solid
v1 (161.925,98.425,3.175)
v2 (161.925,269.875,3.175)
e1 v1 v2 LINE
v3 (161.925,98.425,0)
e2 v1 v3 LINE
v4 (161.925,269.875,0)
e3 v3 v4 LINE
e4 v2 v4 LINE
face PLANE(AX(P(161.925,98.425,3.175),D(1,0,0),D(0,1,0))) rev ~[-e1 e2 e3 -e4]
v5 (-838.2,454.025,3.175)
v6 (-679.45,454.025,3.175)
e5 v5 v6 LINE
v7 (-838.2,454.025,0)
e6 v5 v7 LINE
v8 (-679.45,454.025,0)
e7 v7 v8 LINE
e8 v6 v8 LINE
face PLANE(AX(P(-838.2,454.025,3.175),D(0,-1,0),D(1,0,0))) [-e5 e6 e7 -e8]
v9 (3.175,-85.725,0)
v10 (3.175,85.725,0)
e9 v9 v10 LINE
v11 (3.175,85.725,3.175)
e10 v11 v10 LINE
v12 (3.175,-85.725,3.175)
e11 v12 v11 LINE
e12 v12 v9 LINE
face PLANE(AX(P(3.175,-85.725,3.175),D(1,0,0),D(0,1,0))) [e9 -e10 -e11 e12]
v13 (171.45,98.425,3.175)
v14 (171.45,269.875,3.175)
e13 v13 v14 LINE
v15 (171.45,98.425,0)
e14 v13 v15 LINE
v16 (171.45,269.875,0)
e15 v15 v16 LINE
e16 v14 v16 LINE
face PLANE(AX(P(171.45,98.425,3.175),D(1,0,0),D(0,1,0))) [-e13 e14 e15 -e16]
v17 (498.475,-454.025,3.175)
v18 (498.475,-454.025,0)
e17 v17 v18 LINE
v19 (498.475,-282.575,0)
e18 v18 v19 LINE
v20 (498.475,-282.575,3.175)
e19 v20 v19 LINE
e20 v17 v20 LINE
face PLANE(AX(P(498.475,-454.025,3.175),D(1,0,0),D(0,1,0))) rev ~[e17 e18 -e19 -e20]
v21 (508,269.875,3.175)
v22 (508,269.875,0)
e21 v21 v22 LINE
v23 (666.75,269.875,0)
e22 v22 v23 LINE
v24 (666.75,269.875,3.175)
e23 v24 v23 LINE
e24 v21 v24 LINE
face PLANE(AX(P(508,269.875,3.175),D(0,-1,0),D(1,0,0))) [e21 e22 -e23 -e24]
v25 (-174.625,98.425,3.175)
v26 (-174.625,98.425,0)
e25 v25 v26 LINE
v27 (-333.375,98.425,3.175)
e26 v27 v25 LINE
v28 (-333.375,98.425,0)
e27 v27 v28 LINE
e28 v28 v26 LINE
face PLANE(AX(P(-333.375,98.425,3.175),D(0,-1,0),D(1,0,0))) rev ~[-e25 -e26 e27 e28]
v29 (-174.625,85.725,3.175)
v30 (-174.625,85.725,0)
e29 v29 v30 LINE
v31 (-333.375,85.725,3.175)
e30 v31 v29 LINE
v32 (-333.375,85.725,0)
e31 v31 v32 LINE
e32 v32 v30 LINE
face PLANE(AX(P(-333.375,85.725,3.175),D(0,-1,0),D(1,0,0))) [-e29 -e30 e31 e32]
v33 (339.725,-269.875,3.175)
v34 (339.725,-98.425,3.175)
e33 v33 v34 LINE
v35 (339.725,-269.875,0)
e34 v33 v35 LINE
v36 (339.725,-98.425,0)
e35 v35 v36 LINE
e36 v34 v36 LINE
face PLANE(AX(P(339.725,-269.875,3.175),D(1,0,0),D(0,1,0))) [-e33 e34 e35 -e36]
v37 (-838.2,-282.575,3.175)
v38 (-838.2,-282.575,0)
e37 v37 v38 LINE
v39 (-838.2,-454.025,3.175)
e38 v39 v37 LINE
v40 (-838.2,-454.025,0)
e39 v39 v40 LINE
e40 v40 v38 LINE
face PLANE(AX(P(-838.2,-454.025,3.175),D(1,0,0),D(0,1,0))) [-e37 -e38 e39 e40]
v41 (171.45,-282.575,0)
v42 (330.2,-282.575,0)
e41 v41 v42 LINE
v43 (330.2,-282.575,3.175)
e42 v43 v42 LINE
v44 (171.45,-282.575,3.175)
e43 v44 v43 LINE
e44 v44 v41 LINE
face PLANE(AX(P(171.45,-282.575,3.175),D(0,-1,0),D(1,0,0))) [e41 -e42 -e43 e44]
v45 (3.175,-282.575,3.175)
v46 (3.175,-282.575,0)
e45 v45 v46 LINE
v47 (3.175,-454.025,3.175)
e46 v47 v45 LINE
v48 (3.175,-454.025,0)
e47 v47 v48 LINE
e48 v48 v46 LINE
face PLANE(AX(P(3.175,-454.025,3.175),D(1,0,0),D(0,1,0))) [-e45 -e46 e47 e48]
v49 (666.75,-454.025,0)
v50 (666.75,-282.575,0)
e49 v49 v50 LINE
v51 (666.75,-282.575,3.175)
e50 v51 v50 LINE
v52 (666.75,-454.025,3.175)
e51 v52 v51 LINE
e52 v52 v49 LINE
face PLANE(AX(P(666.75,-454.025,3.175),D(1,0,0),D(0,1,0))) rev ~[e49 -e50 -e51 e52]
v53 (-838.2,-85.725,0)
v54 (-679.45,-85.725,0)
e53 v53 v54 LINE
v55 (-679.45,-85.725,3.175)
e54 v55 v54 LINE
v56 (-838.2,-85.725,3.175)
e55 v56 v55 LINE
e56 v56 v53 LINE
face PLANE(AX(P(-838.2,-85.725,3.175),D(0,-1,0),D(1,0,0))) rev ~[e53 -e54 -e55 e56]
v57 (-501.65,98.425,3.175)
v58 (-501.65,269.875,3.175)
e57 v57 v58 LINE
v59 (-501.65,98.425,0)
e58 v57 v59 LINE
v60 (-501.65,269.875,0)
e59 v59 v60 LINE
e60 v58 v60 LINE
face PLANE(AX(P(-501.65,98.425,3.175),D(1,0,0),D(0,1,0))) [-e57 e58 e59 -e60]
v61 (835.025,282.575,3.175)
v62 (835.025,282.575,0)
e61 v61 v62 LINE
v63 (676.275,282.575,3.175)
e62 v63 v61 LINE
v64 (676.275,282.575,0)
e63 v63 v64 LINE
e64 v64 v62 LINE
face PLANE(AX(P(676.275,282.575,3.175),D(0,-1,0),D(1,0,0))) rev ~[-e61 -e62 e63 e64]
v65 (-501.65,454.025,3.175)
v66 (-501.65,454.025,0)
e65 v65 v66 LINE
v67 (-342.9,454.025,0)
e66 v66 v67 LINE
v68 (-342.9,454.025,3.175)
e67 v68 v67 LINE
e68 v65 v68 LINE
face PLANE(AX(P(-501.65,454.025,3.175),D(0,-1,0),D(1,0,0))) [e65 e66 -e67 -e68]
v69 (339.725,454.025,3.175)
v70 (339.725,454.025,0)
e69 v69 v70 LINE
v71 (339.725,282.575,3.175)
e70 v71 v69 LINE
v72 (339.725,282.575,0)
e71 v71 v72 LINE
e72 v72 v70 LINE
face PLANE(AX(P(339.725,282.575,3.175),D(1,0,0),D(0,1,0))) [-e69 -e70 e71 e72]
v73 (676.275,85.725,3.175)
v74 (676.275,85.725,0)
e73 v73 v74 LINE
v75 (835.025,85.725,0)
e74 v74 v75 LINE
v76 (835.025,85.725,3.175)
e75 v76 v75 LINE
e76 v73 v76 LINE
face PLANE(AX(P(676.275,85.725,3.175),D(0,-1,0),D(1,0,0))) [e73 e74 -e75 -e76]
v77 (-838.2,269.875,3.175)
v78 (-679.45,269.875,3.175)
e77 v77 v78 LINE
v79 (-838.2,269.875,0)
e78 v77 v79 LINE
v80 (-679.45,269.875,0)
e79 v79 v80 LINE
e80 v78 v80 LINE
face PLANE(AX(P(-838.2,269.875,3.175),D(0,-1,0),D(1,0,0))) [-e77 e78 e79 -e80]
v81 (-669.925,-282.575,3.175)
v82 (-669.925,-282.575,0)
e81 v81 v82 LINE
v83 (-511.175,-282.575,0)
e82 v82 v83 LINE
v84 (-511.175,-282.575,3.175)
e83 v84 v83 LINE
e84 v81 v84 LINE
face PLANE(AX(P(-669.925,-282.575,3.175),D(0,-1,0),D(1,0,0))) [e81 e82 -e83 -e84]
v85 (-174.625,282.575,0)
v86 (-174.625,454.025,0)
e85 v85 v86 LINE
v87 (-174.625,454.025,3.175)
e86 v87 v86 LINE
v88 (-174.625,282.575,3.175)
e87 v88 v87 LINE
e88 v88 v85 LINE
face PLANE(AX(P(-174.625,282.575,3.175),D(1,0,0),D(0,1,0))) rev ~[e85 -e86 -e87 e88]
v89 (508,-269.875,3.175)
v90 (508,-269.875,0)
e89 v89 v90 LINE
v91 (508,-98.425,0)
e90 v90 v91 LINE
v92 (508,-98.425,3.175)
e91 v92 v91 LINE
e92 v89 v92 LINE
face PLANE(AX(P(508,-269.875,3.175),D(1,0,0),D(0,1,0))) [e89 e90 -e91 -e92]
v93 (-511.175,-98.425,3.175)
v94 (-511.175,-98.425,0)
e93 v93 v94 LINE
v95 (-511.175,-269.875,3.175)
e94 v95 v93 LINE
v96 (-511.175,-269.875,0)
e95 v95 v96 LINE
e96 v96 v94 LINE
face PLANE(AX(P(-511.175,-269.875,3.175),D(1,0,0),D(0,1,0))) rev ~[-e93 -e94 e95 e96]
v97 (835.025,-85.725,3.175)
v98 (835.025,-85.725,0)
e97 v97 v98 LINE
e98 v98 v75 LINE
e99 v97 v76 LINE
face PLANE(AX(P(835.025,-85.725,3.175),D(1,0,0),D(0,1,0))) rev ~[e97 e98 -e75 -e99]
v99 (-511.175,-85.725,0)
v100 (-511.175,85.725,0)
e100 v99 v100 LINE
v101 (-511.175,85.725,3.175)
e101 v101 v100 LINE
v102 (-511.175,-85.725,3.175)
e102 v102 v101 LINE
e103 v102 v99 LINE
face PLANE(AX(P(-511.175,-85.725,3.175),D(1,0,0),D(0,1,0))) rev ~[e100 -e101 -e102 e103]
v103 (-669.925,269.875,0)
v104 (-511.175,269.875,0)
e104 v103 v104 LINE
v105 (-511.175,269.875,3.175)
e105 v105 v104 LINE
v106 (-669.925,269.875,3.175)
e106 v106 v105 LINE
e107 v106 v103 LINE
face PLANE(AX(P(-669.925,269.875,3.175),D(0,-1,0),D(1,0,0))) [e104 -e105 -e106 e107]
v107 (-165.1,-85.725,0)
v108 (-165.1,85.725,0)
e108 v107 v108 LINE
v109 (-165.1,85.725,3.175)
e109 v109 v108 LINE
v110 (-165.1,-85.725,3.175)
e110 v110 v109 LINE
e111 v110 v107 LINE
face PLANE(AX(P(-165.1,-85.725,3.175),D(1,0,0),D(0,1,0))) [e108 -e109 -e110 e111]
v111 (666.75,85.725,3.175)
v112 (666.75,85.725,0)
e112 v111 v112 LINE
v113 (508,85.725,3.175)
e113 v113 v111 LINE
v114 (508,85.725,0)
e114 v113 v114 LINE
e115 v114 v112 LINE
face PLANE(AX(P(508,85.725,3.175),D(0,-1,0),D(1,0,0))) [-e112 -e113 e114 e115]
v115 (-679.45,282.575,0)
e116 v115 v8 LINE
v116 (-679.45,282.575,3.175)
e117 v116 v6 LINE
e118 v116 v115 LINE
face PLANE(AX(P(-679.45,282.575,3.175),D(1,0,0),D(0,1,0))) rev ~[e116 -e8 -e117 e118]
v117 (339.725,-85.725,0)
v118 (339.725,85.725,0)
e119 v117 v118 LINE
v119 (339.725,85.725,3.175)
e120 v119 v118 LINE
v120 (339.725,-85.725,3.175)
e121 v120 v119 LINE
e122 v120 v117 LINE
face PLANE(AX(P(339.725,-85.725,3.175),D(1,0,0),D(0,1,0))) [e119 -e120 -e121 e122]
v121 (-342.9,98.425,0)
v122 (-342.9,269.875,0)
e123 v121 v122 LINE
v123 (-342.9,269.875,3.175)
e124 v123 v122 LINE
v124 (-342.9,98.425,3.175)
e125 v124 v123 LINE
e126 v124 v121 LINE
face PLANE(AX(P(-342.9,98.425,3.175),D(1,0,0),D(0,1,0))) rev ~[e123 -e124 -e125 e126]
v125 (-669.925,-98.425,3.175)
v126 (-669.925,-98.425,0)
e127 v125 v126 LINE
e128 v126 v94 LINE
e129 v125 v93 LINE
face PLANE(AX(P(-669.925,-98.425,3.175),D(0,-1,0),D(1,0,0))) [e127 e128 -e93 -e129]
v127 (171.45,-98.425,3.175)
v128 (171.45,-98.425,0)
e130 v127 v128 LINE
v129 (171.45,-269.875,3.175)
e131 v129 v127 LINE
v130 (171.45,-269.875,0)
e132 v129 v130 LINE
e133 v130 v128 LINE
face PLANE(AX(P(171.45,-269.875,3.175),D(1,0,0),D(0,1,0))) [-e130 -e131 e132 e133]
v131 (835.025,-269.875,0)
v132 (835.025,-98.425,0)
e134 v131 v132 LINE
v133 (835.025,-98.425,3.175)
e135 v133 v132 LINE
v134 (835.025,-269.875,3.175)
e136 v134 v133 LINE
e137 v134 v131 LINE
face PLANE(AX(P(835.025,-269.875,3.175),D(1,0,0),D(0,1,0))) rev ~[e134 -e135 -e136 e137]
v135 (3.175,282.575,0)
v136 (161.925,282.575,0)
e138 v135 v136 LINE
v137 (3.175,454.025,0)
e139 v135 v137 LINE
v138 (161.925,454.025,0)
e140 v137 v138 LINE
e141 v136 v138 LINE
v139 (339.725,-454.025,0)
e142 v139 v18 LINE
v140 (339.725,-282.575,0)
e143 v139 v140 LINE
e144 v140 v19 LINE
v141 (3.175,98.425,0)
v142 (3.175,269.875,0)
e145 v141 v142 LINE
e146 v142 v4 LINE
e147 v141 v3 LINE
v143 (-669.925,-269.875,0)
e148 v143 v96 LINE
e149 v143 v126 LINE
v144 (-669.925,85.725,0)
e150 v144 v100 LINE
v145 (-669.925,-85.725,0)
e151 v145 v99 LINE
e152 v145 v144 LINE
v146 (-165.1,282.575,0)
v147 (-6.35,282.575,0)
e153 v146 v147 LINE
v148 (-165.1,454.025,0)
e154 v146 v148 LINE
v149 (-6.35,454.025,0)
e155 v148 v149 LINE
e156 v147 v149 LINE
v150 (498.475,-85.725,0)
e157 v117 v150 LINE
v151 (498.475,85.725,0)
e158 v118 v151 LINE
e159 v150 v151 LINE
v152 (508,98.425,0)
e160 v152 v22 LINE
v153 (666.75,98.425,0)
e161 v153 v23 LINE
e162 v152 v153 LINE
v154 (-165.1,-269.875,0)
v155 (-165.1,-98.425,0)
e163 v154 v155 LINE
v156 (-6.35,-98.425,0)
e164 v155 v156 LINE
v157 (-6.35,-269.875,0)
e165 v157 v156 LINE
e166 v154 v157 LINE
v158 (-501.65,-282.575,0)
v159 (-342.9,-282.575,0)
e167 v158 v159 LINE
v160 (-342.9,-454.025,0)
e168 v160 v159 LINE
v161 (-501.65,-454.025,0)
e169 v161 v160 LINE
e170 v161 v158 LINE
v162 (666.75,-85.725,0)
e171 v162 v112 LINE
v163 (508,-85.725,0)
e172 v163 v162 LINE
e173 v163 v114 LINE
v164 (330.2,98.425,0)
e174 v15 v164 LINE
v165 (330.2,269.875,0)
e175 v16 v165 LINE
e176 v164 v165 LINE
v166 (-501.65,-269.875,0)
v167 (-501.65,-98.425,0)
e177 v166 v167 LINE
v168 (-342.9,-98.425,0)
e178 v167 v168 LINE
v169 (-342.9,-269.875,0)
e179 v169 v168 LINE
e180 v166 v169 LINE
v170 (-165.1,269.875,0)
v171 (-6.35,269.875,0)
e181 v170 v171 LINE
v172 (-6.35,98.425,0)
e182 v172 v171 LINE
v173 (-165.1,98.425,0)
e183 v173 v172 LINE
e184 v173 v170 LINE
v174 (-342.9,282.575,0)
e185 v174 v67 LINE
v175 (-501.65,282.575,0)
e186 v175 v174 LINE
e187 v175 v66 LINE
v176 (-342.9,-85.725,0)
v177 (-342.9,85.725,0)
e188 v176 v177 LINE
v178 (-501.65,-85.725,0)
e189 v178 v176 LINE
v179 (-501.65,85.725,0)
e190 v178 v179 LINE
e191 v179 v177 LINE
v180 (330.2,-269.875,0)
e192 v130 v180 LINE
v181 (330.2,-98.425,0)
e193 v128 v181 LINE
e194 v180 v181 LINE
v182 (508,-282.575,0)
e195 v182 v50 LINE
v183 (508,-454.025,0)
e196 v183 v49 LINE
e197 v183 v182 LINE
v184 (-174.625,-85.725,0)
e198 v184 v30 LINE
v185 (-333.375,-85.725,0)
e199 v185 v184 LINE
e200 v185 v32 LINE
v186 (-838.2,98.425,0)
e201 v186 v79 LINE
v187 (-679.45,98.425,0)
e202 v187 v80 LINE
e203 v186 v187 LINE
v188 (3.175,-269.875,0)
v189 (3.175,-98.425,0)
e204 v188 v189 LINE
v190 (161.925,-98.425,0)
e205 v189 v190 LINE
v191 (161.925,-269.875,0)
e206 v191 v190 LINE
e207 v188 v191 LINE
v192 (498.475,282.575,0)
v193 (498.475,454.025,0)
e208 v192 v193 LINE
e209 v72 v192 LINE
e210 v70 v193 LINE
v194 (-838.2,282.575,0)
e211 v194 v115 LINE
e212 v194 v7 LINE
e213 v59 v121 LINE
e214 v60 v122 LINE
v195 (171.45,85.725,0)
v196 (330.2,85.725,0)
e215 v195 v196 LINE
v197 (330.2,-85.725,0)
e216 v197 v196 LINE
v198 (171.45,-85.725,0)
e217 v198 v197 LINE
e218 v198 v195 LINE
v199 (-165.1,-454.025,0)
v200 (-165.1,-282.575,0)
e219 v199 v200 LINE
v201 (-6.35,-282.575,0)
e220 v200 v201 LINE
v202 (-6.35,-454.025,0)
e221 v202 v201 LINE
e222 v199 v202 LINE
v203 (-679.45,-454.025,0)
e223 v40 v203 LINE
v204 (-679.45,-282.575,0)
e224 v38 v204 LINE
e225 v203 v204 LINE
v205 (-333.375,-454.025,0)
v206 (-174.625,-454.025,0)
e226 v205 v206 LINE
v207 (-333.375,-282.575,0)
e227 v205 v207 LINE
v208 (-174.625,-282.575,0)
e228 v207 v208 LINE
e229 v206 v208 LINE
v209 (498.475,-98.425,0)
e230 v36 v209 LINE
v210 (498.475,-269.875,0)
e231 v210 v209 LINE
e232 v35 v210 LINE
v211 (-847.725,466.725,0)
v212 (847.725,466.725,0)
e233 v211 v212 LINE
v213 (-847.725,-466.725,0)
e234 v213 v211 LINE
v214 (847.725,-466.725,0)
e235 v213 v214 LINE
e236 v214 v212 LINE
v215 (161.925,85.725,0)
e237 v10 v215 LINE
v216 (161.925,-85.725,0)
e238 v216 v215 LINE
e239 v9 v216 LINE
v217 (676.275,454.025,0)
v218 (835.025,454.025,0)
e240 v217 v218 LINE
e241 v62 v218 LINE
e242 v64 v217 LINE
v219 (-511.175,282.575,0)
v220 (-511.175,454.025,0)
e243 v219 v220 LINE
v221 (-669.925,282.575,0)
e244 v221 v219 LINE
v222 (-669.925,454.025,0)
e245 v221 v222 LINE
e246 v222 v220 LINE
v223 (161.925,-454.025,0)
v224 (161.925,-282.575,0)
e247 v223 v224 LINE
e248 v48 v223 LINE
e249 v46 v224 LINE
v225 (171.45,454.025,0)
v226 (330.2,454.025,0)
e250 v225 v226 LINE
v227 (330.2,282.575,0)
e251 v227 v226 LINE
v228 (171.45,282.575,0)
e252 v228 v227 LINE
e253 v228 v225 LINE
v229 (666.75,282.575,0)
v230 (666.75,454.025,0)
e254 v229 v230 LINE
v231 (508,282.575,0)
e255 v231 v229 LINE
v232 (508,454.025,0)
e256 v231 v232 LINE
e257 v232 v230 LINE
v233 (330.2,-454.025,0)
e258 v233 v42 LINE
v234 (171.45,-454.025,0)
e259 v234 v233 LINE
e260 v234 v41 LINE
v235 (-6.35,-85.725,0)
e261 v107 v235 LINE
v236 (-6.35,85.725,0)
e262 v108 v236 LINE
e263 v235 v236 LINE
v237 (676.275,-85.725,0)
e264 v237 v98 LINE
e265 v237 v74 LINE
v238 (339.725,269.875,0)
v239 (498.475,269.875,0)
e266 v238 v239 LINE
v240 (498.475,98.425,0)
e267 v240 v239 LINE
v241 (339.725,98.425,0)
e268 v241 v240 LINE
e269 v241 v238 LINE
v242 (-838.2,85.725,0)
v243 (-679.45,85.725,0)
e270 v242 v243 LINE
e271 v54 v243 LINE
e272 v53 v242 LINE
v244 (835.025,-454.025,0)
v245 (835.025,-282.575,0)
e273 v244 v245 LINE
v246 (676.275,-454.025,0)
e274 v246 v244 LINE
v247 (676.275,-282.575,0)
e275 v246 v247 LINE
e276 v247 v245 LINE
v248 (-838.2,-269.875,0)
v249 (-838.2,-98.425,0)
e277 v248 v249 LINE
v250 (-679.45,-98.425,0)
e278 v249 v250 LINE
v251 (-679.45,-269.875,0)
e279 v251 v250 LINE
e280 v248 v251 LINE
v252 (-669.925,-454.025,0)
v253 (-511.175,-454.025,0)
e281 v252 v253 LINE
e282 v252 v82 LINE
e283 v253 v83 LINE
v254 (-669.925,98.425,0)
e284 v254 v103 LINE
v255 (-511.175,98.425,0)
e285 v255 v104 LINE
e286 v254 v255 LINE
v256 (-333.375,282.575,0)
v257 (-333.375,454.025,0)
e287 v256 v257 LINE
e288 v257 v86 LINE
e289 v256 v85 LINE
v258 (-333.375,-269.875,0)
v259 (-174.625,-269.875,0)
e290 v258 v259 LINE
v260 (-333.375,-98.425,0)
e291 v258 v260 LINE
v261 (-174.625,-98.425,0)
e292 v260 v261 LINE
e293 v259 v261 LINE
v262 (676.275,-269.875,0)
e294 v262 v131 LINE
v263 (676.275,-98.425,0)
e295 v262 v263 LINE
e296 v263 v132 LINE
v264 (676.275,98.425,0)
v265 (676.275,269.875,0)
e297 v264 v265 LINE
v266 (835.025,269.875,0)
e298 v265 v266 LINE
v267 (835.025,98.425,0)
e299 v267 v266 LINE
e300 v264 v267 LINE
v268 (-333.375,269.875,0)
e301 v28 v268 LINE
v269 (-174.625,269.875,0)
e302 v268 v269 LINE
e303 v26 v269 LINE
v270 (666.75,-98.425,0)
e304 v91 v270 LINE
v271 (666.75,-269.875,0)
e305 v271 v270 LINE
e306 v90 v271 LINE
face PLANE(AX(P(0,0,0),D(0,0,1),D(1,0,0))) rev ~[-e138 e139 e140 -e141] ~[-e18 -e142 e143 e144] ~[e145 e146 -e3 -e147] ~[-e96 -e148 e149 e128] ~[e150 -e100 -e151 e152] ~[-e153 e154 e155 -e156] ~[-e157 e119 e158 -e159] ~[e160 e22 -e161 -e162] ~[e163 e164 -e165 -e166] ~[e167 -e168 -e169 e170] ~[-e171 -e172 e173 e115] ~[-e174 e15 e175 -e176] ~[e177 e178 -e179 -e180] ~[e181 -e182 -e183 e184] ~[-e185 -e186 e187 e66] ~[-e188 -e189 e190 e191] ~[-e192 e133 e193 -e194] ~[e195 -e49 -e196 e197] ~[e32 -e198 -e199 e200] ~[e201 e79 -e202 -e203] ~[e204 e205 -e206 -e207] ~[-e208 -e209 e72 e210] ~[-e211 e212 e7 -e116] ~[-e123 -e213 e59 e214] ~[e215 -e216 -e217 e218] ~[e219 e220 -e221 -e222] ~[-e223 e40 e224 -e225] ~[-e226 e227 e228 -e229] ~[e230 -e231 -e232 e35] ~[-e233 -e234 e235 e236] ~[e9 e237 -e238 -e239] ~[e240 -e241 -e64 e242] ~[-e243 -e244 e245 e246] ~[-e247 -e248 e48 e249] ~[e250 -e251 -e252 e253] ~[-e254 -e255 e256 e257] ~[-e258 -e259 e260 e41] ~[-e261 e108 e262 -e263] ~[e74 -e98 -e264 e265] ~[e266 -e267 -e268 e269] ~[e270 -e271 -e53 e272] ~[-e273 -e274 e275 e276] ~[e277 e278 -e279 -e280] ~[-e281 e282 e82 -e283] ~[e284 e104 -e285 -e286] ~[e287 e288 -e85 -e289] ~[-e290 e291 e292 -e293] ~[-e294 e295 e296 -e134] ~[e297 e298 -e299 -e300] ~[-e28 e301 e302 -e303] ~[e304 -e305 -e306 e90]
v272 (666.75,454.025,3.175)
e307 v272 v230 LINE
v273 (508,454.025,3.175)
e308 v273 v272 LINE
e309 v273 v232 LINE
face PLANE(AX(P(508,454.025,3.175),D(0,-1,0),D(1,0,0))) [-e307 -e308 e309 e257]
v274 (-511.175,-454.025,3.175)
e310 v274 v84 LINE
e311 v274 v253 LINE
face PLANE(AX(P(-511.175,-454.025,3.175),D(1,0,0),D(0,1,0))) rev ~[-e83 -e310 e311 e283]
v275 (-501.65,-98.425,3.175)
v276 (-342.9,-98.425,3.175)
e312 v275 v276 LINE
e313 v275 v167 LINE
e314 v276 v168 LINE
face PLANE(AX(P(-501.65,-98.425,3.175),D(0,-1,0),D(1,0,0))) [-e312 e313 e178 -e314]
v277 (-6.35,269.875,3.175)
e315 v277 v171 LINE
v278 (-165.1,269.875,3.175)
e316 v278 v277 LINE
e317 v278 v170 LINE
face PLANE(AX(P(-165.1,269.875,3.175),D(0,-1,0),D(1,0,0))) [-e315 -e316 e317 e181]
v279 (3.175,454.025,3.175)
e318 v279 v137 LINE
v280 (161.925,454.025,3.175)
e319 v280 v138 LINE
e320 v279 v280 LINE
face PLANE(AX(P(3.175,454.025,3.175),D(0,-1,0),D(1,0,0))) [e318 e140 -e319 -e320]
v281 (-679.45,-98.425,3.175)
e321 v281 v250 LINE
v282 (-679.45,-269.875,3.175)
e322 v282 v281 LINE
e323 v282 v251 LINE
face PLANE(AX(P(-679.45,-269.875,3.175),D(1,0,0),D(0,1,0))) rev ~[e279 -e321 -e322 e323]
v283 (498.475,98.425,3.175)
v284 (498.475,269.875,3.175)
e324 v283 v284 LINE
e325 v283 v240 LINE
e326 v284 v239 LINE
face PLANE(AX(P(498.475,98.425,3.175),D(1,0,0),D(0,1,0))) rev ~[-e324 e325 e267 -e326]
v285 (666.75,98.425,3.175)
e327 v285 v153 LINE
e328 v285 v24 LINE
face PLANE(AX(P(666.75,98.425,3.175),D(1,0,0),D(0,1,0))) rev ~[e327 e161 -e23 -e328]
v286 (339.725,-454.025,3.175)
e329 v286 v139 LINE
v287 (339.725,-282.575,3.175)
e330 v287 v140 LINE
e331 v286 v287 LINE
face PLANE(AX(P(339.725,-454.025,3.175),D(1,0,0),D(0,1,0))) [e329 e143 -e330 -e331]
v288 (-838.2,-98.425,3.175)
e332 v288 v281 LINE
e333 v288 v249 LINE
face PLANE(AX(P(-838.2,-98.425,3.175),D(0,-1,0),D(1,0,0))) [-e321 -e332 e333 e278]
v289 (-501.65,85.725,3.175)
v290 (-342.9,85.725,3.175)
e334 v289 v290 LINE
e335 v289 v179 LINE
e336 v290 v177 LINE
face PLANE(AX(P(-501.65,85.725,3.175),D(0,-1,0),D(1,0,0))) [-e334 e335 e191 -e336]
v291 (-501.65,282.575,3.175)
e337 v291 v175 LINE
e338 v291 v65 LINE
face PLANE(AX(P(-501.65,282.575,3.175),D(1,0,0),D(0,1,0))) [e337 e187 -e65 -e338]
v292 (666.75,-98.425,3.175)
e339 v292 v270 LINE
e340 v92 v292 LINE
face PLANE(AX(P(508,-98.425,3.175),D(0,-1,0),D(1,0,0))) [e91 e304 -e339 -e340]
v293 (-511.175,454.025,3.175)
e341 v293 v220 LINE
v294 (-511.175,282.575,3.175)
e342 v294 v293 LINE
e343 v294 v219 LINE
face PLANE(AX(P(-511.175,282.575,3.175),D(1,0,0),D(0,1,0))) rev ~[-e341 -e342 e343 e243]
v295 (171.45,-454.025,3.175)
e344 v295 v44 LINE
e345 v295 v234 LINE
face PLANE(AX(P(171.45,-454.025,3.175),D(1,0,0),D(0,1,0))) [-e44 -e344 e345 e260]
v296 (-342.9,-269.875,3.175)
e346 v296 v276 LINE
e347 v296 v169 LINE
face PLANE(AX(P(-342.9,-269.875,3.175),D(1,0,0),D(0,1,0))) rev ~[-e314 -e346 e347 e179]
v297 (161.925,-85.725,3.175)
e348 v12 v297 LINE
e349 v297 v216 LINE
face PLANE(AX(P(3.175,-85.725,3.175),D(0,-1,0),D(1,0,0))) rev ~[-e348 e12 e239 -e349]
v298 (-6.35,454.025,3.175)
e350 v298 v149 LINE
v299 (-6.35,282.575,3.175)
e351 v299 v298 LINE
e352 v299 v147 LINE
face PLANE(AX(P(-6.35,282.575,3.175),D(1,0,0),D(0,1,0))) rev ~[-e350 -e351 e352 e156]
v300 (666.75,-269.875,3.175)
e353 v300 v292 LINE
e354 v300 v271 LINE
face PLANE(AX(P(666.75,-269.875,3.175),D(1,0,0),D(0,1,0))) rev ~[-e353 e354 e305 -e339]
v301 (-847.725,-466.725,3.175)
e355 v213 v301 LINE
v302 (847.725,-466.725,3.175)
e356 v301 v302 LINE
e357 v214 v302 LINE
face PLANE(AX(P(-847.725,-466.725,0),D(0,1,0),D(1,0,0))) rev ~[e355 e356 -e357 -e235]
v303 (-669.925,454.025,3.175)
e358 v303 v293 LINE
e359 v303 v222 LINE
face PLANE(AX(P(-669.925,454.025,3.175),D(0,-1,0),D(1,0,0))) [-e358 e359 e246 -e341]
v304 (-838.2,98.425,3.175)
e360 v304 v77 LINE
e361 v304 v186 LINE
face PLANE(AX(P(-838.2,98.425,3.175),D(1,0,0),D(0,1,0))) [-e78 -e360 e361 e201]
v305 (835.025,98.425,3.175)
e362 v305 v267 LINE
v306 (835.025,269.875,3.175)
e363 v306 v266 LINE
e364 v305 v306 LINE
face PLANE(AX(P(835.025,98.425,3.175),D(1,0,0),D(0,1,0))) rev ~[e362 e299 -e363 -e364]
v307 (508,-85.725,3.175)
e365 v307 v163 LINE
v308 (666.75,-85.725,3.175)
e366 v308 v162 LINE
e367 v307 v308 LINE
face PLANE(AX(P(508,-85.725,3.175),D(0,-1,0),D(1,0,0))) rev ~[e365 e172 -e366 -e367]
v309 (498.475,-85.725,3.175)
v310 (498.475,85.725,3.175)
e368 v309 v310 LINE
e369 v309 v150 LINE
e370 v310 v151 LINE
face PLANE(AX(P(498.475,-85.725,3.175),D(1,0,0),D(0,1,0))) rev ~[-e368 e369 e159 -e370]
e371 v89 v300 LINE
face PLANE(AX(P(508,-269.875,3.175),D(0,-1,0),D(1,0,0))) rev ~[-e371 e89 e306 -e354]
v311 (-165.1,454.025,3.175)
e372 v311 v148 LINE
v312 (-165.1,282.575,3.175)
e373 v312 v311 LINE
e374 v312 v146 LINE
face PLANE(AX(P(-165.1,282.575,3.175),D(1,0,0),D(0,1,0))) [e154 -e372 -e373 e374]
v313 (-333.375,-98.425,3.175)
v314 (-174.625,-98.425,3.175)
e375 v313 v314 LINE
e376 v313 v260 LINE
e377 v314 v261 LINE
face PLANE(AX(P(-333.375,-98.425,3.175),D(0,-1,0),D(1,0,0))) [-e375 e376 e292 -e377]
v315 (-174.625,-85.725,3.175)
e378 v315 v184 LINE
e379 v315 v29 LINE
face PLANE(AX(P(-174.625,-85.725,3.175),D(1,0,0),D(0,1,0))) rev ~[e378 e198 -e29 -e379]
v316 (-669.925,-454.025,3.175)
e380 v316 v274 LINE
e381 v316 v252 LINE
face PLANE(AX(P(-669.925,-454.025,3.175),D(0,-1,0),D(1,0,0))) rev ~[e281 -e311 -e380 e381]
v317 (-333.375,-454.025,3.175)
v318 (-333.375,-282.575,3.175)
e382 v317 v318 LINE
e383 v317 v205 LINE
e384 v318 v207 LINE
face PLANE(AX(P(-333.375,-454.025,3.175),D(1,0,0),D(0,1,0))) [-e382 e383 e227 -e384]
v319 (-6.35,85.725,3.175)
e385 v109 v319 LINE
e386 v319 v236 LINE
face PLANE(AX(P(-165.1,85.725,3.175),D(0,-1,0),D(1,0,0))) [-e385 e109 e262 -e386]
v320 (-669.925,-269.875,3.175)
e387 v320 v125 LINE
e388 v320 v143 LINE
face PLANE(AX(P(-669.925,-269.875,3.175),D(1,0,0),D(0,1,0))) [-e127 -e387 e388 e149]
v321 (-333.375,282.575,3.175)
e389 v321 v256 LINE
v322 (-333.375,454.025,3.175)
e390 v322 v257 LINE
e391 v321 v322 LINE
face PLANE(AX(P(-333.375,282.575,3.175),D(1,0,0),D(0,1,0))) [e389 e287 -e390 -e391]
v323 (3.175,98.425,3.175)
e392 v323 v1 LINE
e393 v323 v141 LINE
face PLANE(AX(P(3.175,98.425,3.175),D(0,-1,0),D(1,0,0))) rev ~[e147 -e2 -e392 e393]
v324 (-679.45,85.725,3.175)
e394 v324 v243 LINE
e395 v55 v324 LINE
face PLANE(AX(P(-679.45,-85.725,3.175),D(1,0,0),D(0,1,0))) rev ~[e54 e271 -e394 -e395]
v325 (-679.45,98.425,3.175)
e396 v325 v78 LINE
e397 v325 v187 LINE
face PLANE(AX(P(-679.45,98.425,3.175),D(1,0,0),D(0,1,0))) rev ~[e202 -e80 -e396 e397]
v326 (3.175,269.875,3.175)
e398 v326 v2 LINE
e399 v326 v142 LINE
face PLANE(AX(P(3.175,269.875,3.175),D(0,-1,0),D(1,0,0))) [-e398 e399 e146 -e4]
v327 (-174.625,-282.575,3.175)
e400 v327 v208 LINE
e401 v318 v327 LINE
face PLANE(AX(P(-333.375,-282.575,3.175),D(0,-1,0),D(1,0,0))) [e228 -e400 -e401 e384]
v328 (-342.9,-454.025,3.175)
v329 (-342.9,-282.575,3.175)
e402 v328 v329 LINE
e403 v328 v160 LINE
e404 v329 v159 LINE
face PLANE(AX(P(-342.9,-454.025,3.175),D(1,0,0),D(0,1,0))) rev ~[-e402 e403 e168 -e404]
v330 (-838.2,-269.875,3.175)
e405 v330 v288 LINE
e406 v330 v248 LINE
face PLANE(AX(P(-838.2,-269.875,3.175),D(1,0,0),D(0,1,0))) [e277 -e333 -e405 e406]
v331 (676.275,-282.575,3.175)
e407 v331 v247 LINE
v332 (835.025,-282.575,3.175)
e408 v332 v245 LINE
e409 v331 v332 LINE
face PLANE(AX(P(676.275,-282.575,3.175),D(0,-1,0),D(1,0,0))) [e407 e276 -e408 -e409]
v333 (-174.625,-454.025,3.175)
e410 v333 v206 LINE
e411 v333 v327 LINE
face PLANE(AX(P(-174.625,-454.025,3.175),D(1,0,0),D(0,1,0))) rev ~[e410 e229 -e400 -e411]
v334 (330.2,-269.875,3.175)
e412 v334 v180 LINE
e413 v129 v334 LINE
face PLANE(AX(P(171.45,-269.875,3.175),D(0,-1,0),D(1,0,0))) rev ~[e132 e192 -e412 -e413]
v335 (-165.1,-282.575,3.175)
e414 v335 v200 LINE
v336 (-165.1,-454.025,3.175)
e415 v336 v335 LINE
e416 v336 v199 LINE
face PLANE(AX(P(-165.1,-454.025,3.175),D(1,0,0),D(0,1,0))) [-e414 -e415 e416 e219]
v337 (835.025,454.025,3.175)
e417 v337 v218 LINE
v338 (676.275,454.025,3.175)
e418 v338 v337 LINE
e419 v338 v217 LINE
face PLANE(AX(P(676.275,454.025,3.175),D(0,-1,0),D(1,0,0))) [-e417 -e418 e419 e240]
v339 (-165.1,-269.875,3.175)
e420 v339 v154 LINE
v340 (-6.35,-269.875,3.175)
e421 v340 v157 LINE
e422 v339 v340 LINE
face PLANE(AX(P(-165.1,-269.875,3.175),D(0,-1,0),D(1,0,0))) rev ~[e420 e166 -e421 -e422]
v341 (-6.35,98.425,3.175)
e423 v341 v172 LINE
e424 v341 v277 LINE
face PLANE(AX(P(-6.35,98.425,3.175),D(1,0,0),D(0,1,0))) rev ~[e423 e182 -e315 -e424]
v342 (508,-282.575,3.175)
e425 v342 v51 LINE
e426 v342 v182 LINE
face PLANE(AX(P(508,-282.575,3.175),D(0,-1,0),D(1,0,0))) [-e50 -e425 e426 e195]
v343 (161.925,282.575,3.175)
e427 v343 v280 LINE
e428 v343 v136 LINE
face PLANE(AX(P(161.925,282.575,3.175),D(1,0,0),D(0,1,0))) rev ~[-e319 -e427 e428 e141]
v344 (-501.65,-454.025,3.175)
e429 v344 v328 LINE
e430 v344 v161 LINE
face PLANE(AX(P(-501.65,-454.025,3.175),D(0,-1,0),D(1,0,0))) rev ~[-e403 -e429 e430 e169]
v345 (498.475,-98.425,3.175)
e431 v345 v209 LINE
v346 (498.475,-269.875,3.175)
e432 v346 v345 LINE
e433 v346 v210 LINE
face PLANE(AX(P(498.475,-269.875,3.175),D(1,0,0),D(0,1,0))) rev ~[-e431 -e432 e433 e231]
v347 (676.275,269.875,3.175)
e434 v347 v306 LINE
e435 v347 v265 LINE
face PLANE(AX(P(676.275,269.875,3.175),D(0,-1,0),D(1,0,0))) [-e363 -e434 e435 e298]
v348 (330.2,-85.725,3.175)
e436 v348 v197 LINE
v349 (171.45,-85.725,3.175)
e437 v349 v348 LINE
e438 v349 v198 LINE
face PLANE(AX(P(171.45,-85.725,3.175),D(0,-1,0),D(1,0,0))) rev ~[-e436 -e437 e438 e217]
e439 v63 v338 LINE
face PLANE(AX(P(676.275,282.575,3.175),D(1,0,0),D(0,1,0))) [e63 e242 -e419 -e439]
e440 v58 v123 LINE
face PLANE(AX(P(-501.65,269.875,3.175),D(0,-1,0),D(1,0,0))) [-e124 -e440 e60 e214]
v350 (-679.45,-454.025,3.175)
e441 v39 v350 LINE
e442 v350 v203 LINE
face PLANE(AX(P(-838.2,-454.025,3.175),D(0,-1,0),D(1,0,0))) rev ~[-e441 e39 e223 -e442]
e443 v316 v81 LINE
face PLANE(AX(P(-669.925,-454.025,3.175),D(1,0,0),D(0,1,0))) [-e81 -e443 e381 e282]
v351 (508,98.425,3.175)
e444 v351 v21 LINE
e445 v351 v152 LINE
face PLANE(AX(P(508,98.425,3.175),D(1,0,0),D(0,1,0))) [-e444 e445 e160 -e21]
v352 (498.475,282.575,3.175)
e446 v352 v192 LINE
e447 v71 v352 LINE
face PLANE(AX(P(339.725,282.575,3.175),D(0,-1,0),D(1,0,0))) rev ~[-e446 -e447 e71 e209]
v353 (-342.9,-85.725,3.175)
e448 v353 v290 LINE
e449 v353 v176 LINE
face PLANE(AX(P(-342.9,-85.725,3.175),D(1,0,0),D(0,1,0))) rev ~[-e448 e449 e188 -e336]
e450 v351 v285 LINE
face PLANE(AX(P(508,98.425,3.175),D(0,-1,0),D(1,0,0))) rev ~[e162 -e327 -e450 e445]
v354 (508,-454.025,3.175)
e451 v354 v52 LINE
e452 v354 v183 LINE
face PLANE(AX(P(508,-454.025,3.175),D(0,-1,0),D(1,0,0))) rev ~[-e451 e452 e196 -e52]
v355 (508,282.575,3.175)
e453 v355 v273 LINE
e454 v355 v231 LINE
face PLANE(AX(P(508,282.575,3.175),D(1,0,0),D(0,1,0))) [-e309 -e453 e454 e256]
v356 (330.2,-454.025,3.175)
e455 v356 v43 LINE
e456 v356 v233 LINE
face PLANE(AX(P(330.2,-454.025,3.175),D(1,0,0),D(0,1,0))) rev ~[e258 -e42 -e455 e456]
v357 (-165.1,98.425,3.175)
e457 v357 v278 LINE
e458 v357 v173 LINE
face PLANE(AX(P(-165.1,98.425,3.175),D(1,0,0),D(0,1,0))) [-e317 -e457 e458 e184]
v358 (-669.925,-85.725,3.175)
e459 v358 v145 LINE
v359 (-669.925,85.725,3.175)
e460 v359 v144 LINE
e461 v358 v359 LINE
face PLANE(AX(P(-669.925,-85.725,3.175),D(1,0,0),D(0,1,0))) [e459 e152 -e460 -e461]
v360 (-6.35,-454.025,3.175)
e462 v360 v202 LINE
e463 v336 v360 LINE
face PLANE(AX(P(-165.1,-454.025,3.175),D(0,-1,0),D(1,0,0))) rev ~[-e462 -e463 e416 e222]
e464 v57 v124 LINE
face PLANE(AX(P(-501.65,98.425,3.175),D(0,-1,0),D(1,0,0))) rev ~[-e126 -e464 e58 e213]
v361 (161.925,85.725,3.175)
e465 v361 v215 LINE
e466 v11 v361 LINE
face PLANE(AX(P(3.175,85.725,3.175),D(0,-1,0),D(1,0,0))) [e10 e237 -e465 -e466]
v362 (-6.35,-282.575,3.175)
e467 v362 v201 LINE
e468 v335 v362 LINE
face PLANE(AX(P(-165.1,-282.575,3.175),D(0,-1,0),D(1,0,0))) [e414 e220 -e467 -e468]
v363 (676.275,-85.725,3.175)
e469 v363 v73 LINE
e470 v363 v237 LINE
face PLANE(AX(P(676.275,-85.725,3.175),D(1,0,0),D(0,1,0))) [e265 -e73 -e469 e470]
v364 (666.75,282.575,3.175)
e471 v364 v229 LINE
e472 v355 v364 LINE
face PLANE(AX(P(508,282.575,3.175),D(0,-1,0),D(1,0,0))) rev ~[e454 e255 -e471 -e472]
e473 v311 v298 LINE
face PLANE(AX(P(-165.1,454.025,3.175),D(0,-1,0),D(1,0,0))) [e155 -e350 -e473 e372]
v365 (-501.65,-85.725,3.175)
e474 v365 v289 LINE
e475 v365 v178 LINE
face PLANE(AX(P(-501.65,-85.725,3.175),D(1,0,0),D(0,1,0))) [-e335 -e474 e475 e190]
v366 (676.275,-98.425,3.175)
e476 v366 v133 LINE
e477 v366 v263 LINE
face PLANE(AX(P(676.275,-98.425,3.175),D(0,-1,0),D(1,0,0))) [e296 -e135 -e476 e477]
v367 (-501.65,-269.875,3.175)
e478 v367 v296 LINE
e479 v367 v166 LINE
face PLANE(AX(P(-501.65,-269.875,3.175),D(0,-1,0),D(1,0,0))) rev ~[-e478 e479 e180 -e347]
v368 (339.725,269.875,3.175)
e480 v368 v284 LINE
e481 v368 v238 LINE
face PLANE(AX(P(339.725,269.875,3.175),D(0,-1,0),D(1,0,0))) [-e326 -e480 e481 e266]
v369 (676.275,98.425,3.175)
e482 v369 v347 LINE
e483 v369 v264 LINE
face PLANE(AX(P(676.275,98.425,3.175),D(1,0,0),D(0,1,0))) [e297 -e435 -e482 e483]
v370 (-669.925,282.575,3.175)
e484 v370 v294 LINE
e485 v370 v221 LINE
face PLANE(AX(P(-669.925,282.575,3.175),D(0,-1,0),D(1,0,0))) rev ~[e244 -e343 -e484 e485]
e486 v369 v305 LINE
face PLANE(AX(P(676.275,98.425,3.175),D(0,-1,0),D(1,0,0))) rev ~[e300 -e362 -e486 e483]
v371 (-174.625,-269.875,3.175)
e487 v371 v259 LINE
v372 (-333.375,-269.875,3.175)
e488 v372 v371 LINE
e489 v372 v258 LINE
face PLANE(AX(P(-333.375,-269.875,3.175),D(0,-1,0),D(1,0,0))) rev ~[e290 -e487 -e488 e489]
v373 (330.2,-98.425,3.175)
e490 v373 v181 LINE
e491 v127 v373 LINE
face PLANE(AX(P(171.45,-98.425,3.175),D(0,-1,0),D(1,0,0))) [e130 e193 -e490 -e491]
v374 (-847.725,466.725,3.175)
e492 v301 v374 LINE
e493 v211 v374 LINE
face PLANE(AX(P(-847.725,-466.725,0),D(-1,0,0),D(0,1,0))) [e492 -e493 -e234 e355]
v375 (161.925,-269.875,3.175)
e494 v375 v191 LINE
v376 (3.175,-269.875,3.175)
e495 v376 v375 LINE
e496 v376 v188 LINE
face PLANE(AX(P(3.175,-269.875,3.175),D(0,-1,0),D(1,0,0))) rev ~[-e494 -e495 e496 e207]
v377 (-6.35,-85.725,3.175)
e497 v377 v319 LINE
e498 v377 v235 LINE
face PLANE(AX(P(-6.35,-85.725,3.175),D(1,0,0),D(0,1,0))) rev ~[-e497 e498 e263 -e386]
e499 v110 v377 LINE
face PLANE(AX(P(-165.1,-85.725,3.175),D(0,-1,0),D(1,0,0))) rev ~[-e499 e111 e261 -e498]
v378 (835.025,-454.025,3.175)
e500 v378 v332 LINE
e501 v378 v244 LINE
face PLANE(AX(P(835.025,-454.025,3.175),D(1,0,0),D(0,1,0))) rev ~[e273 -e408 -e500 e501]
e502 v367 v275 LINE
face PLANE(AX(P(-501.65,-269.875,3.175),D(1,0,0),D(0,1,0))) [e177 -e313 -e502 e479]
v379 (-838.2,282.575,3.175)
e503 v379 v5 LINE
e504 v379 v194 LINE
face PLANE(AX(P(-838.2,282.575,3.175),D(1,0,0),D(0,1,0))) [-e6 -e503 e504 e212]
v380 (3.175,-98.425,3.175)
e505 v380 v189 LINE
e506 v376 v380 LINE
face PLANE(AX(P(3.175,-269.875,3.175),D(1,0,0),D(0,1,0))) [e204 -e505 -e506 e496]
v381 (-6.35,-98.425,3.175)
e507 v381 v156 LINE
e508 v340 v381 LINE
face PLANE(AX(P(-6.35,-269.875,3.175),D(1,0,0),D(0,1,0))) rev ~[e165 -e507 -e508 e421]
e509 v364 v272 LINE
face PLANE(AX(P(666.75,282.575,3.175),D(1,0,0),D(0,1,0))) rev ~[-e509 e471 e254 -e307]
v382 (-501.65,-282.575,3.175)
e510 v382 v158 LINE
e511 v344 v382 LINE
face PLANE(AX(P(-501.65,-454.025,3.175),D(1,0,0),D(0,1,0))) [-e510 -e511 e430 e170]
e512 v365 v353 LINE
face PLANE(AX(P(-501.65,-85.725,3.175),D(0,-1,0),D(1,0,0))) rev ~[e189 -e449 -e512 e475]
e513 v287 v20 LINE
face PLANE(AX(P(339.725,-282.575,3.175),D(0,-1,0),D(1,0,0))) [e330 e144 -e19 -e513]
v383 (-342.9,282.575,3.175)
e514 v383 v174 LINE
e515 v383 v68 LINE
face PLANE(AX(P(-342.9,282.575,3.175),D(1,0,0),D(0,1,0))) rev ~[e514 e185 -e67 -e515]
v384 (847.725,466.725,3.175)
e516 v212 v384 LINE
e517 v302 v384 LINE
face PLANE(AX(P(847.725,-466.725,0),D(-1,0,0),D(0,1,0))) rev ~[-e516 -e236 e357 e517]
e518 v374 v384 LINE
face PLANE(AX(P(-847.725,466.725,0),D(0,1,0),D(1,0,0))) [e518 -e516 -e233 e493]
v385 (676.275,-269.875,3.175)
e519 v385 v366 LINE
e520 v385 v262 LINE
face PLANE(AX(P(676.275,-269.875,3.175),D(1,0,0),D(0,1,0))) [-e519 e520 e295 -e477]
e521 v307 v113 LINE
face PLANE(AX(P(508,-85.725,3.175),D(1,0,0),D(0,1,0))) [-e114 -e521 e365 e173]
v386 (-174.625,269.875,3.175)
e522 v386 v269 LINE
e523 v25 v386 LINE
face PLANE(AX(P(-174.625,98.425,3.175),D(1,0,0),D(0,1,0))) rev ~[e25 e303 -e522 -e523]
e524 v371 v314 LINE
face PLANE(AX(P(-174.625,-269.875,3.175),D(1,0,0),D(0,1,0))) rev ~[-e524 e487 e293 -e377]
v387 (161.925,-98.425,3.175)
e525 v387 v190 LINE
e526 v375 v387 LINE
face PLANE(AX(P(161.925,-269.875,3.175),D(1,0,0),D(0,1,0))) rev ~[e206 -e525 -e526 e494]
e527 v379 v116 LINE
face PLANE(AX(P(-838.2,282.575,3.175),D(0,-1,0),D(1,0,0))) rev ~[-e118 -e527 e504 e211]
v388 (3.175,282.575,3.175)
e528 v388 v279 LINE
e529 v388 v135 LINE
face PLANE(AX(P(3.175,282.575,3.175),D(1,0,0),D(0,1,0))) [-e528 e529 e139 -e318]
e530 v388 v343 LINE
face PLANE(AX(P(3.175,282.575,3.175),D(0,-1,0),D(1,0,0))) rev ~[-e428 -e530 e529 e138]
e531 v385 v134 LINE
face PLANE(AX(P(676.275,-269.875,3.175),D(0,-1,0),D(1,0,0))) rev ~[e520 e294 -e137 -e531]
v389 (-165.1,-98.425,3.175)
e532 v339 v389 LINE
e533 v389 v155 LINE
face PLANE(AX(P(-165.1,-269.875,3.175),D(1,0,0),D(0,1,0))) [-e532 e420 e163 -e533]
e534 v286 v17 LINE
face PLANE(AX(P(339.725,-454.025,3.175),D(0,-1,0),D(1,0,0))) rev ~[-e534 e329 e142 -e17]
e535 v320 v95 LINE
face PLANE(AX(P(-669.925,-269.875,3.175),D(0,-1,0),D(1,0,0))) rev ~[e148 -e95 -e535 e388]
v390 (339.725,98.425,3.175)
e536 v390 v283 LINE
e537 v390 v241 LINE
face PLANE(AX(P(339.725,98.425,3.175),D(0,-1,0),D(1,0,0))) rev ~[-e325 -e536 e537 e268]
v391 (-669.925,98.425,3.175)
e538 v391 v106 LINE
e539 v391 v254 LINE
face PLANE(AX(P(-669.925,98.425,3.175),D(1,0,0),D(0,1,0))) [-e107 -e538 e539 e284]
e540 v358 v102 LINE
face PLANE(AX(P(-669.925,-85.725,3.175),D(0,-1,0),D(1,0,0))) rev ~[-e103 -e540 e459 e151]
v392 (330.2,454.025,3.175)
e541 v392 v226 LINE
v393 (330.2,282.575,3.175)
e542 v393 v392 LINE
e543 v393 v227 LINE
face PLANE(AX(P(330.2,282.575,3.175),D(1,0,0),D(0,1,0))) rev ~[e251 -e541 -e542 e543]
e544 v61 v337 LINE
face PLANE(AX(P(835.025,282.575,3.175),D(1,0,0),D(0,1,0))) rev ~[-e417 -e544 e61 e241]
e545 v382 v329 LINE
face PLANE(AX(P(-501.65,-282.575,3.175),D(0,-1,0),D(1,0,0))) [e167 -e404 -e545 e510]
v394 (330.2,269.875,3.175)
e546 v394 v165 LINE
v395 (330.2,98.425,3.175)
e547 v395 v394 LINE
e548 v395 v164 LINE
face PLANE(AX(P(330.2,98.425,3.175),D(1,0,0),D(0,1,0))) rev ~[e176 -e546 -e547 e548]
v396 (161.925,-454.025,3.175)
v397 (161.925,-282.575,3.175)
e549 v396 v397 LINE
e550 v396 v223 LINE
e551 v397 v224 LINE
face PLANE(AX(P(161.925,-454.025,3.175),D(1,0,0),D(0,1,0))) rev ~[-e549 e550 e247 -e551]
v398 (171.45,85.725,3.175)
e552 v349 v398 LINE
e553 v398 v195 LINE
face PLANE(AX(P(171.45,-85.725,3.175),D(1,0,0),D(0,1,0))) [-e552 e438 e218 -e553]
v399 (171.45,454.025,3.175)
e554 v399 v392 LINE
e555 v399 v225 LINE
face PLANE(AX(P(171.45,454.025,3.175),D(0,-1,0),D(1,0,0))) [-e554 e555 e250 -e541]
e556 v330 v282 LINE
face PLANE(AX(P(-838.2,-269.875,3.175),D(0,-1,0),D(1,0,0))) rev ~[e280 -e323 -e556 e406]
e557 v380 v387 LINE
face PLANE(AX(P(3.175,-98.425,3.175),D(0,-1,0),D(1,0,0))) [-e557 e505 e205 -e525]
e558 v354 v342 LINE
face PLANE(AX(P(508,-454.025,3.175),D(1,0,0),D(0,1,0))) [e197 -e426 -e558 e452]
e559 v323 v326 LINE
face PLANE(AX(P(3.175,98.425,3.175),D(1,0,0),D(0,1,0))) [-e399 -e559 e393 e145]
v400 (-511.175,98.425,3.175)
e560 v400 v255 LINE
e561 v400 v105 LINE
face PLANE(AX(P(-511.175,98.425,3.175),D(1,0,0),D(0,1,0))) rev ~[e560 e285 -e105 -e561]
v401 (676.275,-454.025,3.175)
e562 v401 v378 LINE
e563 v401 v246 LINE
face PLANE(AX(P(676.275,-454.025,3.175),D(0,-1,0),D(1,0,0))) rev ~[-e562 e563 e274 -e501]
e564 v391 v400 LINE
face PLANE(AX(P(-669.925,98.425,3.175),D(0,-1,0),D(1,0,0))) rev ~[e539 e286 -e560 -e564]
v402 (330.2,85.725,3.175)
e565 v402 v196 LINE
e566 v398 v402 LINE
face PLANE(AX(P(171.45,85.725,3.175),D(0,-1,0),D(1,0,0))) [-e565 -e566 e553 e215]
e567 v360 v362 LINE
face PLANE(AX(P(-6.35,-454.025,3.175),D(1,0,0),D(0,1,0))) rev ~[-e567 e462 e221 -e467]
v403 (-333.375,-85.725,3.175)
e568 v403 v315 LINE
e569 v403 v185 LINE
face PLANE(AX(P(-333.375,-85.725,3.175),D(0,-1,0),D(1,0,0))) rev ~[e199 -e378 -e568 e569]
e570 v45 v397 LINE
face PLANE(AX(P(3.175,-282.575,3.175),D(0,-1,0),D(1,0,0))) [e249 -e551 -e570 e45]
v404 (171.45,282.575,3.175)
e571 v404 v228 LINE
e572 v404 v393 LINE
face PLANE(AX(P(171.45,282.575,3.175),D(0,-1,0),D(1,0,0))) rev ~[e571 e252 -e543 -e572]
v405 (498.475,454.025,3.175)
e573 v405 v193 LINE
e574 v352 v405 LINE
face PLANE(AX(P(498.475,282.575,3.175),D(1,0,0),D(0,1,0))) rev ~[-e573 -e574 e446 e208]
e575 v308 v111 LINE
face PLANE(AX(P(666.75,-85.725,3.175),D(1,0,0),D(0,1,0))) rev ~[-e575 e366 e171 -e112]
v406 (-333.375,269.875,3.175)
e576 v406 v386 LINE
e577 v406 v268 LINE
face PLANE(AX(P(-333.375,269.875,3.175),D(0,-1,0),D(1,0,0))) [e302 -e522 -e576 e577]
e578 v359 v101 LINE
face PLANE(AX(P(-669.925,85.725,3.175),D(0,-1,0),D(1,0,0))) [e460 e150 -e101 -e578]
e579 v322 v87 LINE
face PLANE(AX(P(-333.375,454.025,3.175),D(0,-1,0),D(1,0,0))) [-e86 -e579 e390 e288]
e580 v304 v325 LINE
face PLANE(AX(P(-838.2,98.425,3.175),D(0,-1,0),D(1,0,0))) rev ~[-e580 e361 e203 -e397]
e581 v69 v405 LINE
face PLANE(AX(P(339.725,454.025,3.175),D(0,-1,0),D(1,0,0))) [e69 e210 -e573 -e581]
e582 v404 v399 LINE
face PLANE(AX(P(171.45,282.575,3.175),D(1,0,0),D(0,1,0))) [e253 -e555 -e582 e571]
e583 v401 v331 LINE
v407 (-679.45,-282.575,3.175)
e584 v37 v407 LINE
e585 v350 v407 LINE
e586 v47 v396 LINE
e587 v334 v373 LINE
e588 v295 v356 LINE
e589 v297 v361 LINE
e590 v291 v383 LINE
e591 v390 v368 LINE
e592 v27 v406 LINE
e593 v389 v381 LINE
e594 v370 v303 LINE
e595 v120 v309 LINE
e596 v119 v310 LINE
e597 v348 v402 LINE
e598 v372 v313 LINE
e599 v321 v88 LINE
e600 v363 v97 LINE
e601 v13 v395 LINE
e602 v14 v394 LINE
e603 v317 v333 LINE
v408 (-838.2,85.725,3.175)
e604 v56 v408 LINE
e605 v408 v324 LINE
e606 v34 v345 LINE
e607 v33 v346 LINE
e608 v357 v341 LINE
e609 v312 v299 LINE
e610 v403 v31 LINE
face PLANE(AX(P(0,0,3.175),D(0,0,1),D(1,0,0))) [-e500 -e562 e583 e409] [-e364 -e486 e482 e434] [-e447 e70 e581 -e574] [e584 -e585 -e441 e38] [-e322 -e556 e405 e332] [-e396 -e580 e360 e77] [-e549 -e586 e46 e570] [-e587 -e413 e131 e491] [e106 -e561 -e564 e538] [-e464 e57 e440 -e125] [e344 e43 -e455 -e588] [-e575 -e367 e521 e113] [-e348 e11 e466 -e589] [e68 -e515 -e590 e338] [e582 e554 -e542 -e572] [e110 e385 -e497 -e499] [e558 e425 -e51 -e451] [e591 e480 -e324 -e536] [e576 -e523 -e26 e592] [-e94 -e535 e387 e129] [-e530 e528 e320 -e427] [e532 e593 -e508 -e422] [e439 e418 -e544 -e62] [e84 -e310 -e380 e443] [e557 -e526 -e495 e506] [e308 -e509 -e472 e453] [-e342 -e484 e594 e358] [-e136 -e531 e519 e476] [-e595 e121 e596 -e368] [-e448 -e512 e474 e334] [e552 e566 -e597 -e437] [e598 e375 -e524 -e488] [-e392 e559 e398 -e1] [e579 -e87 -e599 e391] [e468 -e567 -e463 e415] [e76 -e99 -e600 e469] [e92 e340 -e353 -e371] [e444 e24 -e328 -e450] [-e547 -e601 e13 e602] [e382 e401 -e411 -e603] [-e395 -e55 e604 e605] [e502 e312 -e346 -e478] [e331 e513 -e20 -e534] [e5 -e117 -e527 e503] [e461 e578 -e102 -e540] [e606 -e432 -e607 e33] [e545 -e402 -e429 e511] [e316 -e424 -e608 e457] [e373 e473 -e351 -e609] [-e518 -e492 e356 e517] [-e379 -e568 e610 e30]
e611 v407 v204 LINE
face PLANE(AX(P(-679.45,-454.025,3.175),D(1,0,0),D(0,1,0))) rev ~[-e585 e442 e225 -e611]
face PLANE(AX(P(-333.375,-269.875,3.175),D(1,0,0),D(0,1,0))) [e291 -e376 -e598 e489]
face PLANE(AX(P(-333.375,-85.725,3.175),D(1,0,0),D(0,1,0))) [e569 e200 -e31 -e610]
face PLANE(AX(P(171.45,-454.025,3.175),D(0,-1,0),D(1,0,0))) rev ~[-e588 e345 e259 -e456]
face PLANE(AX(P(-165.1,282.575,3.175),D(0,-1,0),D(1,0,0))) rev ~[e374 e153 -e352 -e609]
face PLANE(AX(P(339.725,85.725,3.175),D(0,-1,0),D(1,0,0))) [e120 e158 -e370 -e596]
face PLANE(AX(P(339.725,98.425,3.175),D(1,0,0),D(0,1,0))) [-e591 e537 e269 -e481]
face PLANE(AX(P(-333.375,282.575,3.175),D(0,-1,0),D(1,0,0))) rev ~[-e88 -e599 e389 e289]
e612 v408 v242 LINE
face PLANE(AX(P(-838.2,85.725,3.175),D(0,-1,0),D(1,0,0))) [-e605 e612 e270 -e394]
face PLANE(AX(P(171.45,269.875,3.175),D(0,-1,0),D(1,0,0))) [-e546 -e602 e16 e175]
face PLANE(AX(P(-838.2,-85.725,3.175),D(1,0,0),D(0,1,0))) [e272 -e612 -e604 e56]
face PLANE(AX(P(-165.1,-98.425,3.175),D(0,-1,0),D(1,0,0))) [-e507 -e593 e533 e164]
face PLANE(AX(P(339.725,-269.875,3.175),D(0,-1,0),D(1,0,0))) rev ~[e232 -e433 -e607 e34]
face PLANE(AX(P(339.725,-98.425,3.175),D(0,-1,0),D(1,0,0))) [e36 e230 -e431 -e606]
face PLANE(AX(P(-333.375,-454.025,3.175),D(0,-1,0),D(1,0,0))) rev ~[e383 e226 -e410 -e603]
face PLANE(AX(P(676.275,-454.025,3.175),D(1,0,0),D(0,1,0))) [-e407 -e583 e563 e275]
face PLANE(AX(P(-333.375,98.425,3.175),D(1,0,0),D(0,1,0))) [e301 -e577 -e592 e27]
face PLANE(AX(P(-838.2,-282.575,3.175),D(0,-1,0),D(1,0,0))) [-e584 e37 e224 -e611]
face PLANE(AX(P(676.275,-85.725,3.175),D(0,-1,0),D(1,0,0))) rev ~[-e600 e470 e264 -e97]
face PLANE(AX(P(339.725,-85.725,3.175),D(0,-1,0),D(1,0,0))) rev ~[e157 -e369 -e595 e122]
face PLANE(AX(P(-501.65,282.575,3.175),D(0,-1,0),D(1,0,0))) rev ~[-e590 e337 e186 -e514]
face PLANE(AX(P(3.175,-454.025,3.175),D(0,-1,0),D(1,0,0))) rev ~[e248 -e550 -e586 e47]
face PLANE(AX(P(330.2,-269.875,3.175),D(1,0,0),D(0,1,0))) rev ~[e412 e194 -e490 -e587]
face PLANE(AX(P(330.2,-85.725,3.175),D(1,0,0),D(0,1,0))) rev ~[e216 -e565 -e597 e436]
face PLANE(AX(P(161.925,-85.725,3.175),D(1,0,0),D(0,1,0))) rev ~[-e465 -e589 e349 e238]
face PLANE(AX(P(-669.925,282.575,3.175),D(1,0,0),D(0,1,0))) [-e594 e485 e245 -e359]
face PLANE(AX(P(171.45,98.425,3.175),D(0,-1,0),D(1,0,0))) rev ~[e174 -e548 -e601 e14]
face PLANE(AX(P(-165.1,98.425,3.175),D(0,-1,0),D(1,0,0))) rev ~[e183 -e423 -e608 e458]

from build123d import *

# Parameters (mm, degrees)
SKETCH1_W           = 1695.45
SKETCH1_H           = 933.45
BOSS_EXTRUDE1_DEPTH = 3.175
SKETCH2_W           = 158.75
SKETCH2_H           = 171.45
CUT_EXTRUDE1_DEPTH  = 4.175


with BuildPart() as part:
    # Sketch1 → Boss-Extrude1 (new body)
    with BuildSketch(Plane.XY):
        Rectangle(SKETCH1_W, SKETCH1_H)
    extrude(amount=BOSS_EXTRUDE1_DEPTH)

    # Sketch2 → Cut-Extrude1 (cut, through all)
    with BuildSketch(Plane.XY.offset(3.175)):
        with Locations((-758.825, 368.3)):
            Rectangle(SKETCH2_W, SKETCH2_H)
        with Locations((-590.55, 368.3)):
            Rectangle(SKETCH2_W, SKETCH2_H)
        with Locations((-422.275, 368.3)):
            Rectangle(SKETCH2_W, SKETCH2_H)
        with Locations((-254, 368.3)):
            Rectangle(SKETCH2_W, SKETCH2_H)
        with Locations((-85.725, 368.3)):
            Rectangle(SKETCH2_W, SKETCH2_H)
        with Locations((82.55, 368.3)):
            Rectangle(SKETCH2_W, SKETCH2_H)
        with Locations((250.825, 368.3)):
            Rectangle(SKETCH2_W, SKETCH2_H)
        with Locations((419.1, 368.3)):
            Rectangle(SKETCH2_W, SKETCH2_H)
        with Locations((587.375, 368.3)):
            Rectangle(SKETCH2_W, SKETCH2_H)
        with Locations((755.65, 368.3)):
            Rectangle(SKETCH2_W, SKETCH2_H)
        with Locations((-590.55, 184.15)):
            Rectangle(SKETCH2_W, SKETCH2_H)
        with Locations((-422.275, 184.15)):
            Rectangle(SKETCH2_W, SKETCH2_H)
        with Locations((-254, 184.15)):
            Rectangle(SKETCH2_W, SKETCH2_H)
        with Locations((-85.725, 184.15)):
            Rectangle(SKETCH2_W, SKETCH2_H)
        with Locations((82.55, 184.15)):
            Rectangle(SKETCH2_W, SKETCH2_H)
        with Locations((250.825, 184.15)):
            Rectangle(SKETCH2_W, SKETCH2_H)
        with Locations((419.1, 184.15)):
            Rectangle(SKETCH2_W, SKETCH2_H)
        with Locations((587.375, 184.15)):
            Rectangle(SKETCH2_W, SKETCH2_H)
        with Locations((755.65, 184.15)):
            Rectangle(SKETCH2_W, SKETCH2_H)
        with Locations((-590.55, 0)):
            Rectangle(SKETCH2_W, SKETCH2_H)
        with Locations((-422.275, 0)):
            Rectangle(SKETCH2_W, SKETCH2_H)
        with Locations((-254, 0)):
            Rectangle(SKETCH2_W, SKETCH2_H)
        with Locations((-85.725, 0)):
            Rectangle(SKETCH2_W, SKETCH2_H)
        with Locations((82.55, 0)):
            Rectangle(SKETCH2_W, SKETCH2_H)
        with Locations((250.825, 0)):
            Rectangle(SKETCH2_W, SKETCH2_H)
        with Locations((419.1, 0)):
            Rectangle(SKETCH2_W, SKETCH2_H)
        with Locations((587.375, 0)):
            Rectangle(SKETCH2_W, SKETCH2_H)
        with Locations((755.65, 0)):
            Rectangle(SKETCH2_W, SKETCH2_H)
        with Locations((-590.55, -184.15)):
            Rectangle(SKETCH2_W, SKETCH2_H)
        with Locations((-422.275, -184.15)):
            Rectangle(SKETCH2_W, SKETCH2_H)
        with Locations((-254, -184.15)):
            Rectangle(SKETCH2_W, SKETCH2_H)
        with Locations((-85.725, -184.15)):
            Rectangle(SKETCH2_W, SKETCH2_H)
        with Locations((82.55, -184.15)):
            Rectangle(SKETCH2_W, SKETCH2_H)
        with Locations((250.825, -184.15)):
            Rectangle(SKETCH2_W, SKETCH2_H)
        with Locations((419.1, -184.15)):
            Rectangle(SKETCH2_W, SKETCH2_H)
        with Locations((587.375, -184.15)):
            Rectangle(SKETCH2_W, SKETCH2_H)
        with Locations((755.65, -184.15)):
            Rectangle(SKETCH2_W, SKETCH2_H)
        with Locations((-590.55, -368.3)):
            Rectangle(SKETCH2_W, SKETCH2_H)
        with Locations((-422.275, -368.3)):
            Rectangle(SKETCH2_W, SKETCH2_H)
        with Locations((-254, -368.3)):
            Rectangle(SKETCH2_W, SKETCH2_H)
        with Locations((-85.725, -368.3)):
            Rectangle(SKETCH2_W, SKETCH2_H)
        with Locations((82.55, -368.3)):
            Rectangle(SKETCH2_W, SKETCH2_H)
        with Locations((250.825, -368.3)):
            Rectangle(SKETCH2_W, SKETCH2_H)
        with Locations((419.1, -368.3)):
            Rectangle(SKETCH2_W, SKETCH2_H)
        with Locations((587.375, -368.3)):
            Rectangle(SKETCH2_W, SKETCH2_H)
        with Locations((755.65, -368.3)):
            Rectangle(SKETCH2_W, SKETCH2_H)
        with Locations((-758.825, 184.15)):
            Rectangle(SKETCH2_W, SKETCH2_H)
        with Locations((-758.825, 0)):
            Rectangle(SKETCH2_W, SKETCH2_H)
        with Locations((-758.825, -184.15)):
            Rectangle(SKETCH2_W, SKETCH2_H)
        with Locations((-758.825, -368.3)):
            Rectangle(SKETCH2_W, SKETCH2_H)
    extrude(amount=-CUT_EXTRUDE1_DEPTH, mode=Mode.SUBTRACT)


solid = part.part
